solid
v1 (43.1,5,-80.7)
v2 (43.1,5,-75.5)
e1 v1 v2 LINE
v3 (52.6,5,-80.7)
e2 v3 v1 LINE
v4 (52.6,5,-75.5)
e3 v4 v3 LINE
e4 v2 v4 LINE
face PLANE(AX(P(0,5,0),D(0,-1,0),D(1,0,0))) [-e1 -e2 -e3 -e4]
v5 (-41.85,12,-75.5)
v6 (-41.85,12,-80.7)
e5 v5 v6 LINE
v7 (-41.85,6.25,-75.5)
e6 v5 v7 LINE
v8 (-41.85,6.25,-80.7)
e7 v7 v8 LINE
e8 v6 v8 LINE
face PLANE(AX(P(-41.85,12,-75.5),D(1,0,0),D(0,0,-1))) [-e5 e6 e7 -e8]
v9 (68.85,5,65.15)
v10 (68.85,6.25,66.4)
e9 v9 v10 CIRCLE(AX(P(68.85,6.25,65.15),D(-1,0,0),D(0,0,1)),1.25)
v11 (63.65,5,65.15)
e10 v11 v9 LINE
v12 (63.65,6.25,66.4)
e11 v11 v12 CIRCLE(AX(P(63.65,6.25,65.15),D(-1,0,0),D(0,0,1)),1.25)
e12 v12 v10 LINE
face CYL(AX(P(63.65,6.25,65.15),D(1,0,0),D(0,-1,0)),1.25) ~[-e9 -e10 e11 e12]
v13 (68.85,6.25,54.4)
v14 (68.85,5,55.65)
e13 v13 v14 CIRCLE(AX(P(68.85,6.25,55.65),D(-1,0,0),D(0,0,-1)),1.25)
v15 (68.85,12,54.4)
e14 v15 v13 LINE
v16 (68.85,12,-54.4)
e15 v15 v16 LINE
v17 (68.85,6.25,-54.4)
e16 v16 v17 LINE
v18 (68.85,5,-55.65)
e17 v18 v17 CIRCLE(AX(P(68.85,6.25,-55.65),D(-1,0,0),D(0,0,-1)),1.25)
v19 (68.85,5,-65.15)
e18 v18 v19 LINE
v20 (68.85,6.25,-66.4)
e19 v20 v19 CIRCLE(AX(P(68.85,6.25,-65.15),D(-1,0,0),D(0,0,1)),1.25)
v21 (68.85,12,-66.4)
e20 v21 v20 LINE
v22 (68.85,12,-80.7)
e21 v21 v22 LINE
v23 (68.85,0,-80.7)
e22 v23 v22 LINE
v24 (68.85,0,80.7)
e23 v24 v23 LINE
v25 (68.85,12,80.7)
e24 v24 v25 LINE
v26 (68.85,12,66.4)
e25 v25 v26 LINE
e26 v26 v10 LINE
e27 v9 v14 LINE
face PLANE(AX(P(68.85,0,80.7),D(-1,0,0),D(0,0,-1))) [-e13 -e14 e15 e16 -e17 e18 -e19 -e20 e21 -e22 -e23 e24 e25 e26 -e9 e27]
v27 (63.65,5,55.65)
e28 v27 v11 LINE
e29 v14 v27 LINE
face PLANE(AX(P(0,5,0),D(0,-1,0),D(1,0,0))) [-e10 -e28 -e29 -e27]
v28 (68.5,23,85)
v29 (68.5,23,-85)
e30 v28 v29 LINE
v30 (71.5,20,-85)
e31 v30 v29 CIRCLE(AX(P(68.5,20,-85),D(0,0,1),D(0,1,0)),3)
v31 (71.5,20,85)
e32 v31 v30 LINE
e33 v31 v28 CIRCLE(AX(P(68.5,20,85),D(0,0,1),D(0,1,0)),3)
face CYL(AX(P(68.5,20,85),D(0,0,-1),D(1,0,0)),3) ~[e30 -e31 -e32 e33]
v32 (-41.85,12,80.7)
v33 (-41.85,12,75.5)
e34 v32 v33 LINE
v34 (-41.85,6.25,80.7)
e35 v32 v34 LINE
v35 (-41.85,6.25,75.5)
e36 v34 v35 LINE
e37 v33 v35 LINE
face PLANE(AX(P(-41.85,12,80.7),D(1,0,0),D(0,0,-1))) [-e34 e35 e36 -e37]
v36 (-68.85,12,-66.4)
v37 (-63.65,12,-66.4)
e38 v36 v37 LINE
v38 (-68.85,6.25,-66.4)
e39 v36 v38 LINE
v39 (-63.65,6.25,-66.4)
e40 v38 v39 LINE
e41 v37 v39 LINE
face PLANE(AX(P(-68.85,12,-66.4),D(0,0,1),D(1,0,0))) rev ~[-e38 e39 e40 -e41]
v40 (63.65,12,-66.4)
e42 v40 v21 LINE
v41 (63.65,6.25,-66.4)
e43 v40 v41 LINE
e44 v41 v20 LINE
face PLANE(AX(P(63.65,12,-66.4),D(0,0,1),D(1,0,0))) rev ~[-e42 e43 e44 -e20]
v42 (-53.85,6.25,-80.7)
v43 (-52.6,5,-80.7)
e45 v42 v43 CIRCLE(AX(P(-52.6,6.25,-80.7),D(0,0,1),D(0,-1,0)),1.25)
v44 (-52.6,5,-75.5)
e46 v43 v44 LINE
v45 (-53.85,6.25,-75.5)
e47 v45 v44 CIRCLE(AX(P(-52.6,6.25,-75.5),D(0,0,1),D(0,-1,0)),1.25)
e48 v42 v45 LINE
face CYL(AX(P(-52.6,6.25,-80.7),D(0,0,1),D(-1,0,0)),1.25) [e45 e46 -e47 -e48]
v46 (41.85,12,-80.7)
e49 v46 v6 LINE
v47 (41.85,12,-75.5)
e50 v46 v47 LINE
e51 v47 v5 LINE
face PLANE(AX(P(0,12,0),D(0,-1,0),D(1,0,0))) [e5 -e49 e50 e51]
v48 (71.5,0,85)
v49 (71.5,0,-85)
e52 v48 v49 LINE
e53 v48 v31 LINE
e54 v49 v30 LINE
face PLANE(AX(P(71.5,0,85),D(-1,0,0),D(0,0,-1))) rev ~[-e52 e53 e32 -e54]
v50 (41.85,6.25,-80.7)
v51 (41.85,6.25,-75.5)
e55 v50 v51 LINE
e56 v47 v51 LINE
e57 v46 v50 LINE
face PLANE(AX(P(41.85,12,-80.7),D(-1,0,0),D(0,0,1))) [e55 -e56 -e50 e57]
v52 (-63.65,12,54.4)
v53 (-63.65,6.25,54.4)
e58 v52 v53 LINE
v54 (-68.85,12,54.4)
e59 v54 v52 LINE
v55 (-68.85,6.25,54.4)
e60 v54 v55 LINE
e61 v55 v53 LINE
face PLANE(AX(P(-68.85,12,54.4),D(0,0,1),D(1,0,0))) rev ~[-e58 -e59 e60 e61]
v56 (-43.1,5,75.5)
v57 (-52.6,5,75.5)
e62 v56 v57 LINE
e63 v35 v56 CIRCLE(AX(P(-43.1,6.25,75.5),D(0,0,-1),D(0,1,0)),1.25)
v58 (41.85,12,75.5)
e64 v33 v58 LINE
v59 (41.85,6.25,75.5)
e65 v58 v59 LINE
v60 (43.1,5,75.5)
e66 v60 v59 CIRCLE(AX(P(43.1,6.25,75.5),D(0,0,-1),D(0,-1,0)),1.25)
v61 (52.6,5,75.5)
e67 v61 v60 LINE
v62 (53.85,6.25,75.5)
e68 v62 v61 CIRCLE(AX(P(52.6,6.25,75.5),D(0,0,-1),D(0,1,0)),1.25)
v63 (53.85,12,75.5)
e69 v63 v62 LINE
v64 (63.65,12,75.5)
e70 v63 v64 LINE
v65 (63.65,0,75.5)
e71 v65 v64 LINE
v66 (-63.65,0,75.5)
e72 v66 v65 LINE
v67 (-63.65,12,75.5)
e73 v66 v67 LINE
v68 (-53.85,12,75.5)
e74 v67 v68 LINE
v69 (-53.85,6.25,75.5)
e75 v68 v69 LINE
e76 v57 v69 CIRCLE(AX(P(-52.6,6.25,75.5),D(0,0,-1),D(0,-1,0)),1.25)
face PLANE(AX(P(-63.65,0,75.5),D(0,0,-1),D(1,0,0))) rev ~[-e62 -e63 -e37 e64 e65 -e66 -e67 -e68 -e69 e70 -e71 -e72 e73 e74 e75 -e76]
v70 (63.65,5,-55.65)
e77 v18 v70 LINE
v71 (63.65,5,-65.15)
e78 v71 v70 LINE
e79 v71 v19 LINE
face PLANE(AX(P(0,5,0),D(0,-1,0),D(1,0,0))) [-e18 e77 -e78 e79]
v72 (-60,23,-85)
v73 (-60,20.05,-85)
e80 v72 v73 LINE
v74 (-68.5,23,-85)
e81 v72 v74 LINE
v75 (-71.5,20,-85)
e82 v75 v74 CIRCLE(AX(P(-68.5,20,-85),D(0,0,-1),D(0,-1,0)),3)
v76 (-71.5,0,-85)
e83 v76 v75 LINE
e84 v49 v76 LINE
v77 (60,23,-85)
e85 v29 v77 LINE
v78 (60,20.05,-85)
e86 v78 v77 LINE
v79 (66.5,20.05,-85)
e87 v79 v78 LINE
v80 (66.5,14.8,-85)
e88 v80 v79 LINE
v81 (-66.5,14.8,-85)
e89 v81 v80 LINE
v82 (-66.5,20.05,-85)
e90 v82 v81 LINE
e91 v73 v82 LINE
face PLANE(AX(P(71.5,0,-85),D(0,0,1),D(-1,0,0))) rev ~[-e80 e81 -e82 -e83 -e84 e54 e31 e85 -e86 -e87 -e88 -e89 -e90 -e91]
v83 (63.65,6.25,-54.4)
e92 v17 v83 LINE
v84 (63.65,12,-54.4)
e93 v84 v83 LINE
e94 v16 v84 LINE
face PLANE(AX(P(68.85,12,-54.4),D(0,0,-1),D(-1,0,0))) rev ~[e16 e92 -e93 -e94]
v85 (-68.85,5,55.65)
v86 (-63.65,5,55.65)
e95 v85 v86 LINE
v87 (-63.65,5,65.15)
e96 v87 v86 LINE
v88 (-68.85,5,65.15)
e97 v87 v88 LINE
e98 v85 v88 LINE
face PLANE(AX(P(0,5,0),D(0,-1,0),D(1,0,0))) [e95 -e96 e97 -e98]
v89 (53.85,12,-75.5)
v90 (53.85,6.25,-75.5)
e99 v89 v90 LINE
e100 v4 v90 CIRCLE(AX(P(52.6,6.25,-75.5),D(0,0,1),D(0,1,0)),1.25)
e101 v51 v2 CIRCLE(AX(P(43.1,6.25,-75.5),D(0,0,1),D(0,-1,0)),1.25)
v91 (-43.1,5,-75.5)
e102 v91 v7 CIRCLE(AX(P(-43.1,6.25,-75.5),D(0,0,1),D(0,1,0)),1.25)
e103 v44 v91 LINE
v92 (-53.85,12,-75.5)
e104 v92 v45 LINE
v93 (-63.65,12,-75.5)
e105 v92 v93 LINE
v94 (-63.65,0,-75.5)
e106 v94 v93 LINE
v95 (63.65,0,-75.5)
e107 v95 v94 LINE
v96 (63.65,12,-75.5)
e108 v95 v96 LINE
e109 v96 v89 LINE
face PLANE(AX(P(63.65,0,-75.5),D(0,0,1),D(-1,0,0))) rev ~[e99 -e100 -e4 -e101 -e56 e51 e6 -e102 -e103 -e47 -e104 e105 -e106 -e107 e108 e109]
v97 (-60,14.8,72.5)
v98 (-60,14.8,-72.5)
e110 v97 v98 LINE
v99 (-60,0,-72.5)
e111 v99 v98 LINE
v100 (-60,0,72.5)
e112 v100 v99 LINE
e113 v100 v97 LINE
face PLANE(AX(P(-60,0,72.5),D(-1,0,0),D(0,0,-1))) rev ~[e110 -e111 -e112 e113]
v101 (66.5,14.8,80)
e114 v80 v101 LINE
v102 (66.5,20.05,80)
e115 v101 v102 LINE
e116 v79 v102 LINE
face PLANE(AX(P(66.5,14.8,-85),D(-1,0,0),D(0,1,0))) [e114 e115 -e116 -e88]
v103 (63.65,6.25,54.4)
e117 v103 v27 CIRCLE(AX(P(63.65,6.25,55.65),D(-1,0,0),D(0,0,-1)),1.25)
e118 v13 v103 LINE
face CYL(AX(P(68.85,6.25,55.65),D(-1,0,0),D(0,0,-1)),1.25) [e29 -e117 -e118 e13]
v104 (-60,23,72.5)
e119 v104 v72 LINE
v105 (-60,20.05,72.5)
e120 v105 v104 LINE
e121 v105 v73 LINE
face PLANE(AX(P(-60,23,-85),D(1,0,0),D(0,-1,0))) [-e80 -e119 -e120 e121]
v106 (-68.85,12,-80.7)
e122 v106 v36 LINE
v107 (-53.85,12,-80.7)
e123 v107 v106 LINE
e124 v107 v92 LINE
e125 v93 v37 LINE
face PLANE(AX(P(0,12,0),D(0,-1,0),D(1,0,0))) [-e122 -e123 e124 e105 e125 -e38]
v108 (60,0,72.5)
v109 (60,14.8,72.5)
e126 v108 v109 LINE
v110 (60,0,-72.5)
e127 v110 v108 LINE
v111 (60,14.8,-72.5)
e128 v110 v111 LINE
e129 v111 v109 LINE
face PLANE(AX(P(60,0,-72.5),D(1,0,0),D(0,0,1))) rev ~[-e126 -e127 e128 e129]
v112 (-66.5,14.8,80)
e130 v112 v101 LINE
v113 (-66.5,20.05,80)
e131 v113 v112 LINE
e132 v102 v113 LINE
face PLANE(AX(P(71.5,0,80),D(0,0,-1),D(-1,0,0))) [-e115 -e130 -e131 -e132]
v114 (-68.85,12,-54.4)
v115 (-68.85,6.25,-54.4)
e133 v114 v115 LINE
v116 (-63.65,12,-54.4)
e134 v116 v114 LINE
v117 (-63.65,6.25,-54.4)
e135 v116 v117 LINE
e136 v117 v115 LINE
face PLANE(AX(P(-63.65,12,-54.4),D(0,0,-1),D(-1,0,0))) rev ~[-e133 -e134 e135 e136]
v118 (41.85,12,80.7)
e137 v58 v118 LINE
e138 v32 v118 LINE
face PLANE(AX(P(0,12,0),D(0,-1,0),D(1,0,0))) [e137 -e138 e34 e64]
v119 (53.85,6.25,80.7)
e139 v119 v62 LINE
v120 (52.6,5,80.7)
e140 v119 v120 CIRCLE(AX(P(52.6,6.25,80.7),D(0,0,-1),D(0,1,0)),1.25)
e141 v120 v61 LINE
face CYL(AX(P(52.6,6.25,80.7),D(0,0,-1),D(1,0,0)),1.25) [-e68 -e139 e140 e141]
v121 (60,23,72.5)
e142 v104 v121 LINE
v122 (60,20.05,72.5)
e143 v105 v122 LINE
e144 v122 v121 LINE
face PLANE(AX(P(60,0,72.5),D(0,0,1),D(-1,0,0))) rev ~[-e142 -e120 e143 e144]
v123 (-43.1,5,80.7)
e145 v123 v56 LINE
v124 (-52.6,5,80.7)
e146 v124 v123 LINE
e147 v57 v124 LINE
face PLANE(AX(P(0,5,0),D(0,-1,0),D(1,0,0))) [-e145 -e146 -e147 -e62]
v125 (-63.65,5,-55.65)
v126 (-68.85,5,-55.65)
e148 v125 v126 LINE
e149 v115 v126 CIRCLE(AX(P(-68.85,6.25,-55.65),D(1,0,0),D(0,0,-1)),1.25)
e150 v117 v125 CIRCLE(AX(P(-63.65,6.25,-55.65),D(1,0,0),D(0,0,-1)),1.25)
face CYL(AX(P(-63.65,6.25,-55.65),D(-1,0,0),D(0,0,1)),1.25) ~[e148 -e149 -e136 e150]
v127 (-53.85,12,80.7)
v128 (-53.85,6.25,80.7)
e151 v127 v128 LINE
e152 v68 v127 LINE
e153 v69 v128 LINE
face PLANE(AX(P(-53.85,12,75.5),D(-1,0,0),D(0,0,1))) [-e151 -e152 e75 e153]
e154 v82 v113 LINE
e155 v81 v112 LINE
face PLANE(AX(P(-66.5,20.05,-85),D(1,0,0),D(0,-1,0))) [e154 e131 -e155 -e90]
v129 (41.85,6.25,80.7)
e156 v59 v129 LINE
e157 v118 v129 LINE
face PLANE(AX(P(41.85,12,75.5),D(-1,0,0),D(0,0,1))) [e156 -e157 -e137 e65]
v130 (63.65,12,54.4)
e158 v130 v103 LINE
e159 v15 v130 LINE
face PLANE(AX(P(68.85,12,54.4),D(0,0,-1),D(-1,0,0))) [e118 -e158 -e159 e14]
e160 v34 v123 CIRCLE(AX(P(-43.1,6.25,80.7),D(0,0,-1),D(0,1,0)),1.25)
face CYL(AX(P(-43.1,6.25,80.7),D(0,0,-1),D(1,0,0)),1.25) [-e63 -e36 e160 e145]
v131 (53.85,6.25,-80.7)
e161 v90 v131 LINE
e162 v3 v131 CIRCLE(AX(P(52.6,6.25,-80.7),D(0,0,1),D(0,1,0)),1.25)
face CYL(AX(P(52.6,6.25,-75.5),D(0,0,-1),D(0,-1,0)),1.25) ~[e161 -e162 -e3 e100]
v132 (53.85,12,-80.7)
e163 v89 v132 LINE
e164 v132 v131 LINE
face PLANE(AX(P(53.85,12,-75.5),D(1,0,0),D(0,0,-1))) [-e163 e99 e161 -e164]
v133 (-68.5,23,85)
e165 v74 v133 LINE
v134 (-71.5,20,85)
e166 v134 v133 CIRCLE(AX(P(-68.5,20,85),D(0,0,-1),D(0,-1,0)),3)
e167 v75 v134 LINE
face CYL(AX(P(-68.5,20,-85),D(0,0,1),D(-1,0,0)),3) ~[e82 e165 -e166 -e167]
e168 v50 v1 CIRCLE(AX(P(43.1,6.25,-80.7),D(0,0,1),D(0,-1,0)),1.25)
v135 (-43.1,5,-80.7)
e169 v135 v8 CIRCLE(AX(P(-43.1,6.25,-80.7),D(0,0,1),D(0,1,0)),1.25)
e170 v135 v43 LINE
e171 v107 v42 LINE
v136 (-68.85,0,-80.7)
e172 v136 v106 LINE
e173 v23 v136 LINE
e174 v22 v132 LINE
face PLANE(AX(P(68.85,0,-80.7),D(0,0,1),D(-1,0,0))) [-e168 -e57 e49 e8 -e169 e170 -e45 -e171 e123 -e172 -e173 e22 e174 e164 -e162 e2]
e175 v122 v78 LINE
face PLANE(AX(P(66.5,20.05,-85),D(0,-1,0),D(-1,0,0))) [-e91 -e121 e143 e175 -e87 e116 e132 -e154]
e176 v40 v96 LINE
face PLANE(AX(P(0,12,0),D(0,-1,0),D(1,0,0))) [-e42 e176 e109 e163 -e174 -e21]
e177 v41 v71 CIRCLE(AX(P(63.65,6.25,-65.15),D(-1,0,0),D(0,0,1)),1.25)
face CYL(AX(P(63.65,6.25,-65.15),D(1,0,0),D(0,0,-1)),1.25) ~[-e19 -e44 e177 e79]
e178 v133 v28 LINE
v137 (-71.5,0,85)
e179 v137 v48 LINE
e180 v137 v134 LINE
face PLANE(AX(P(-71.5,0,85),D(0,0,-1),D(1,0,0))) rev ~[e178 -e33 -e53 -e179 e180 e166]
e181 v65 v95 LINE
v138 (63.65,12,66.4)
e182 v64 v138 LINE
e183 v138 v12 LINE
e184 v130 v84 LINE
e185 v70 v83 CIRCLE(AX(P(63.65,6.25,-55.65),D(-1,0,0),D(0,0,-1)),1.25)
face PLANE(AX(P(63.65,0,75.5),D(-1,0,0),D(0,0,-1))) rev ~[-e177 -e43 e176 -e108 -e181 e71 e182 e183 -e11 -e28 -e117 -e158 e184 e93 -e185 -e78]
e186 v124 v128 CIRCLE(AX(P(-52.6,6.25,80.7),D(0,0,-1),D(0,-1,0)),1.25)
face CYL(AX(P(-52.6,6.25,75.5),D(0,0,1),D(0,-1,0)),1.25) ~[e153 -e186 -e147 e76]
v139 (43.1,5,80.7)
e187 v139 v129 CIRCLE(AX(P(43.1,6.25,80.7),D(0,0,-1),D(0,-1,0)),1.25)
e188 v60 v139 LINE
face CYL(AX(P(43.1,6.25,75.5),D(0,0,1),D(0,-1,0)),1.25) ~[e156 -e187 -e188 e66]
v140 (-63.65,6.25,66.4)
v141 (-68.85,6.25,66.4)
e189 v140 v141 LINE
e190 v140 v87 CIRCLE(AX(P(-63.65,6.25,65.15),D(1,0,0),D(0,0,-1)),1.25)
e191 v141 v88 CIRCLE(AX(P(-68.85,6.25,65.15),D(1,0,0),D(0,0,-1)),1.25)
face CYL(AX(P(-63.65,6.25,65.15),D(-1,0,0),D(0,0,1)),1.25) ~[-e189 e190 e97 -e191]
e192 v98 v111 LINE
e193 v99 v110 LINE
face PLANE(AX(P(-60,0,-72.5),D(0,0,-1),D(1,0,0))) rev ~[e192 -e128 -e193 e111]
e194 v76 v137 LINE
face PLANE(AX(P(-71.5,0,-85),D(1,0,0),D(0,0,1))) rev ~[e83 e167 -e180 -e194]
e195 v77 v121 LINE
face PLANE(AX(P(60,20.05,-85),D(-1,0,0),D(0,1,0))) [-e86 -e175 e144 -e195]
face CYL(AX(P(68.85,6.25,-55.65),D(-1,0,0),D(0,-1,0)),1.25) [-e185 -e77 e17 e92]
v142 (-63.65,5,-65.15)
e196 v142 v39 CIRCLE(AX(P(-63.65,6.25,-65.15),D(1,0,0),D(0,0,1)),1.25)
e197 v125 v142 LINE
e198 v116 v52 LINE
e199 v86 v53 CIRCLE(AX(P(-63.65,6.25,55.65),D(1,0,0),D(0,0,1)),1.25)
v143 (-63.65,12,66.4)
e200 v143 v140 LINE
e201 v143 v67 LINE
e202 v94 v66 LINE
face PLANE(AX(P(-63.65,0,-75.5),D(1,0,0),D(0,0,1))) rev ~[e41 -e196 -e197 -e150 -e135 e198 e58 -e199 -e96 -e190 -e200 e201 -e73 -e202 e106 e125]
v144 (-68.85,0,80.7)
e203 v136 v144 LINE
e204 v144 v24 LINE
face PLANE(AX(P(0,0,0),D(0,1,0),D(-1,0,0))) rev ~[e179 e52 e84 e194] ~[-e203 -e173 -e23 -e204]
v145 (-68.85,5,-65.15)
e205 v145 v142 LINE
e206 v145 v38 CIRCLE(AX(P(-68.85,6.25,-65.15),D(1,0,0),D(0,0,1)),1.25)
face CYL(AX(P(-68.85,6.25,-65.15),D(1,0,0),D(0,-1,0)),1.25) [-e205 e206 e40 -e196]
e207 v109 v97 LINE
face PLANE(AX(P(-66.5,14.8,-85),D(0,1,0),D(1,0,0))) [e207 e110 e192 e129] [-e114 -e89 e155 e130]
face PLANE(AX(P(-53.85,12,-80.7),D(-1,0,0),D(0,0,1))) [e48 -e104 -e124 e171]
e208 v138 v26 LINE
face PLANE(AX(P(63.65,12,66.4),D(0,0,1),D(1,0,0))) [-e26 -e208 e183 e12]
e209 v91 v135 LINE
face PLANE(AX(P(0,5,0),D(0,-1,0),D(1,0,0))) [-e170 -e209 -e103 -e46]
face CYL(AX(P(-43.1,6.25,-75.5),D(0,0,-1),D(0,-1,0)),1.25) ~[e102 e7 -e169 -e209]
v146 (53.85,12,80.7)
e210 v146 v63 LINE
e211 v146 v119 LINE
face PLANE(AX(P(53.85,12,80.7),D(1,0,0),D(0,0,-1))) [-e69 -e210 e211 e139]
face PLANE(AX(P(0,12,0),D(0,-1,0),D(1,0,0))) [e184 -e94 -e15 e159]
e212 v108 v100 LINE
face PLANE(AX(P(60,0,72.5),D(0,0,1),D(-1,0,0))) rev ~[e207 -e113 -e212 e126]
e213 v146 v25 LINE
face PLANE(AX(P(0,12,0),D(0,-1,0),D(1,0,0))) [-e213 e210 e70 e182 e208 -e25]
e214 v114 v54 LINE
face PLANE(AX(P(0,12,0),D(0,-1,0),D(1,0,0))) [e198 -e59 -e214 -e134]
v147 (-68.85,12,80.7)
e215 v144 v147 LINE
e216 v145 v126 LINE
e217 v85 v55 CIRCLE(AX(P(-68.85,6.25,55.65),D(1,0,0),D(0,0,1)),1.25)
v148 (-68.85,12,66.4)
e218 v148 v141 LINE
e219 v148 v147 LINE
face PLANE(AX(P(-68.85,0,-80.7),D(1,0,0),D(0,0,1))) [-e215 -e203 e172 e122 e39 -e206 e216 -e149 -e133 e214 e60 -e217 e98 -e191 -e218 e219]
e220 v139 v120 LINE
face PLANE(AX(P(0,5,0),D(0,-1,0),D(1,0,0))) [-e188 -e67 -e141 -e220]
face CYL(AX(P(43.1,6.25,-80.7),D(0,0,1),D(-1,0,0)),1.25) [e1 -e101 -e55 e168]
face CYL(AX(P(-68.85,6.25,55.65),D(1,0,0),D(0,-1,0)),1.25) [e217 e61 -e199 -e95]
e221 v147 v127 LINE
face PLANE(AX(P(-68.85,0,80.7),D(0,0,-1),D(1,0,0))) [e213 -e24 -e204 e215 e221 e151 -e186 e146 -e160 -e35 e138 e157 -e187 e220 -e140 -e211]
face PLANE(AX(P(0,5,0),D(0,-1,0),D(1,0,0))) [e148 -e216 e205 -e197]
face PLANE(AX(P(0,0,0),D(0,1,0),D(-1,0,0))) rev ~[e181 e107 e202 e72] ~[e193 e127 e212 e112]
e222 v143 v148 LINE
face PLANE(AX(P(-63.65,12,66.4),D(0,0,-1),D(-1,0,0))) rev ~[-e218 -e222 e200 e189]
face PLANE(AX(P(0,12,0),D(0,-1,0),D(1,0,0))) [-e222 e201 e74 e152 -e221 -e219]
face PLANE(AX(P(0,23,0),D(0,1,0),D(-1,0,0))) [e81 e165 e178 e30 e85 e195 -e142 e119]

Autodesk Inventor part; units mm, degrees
ref_plane "YZ Plane" through (0, 0, 0) normal (1, 0, 0) x (0, 1, 0)
ref_plane "XZ Plane" through (0, 0, 0) normal (0, 1, 0) x (-1, 0, 0)
ref_plane "XY Plane" through (0, 0, 0) normal (0, 0, 1) x (1, 0, 0)
sketch "Sketch1" plane through (0, 0, 0) normal (0, 1, 0) x (-1, 0, 0)
  line L0 (-71.5, -85) -> (71.5, -85)
  line L1 (71.5, -85) -> (71.5, 85)
  line L2 (71.5, 85) -> (-71.5, 85)
  line L3 (-71.5, 85) -> (-71.5, -85)
  line L4 (-71.5, -85) -> (71.5, 85) construction
  line L5 (71.5, -85) -> (-71.5, 85) construction
  point P0 (0, 0)
  dimension "d0" = 143
  dimension "d1" = 170
extrude "Base" add sketch "Sketch1" along normal blind 23
sketch "Sketch2" plane through (0, 0, 0) normal (0, -1, 0) x (1, 0, 0)
  line L0 (-60, -72.5) -> (60, -72.5)
  line L1 (60, -72.5) -> (60, 72.5)
  line L2 (60, 72.5) -> (-60, 72.5)
  line L3 (-60, 72.5) -> (-60, -72.5)
  line L4 (-60, -72.5) -> (60, 72.5) construction
  line L5 (60, -72.5) -> (-60, 72.5) construction
  point P0 (0, 0)
  dimension "d4" = 120
  dimension "d5" = 145
extrude "Extrusion2" cut sketch "Sketch2" against normal through all
sketch "Sketch3" plane through (0, 0, 0) normal (0, -1, 0) x (1, 0, 0)
  line L0 (63.65, -75.5) -> (-63.65, -75.5)
  line L1 (-63.65, -75.5) -> (-63.65, 75.5)
  line L2 (-63.65, 75.5) -> (63.65, 75.5)
  line L3 (63.65, 75.5) -> (63.65, -75.5)
  line L4 (-60, 72.5) -> (60, 72.5) projected
  line L5 (-60, -72.5) -> (-60, 72.5) projected
  line L6 (68.85, -80.7) -> (-68.85, -80.7)
  line L7 (-68.85, -80.7) -> (-68.85, 80.7)
  line L8 (-68.85, 80.7) -> (68.85, 80.7)
  line L9 (68.85, 80.7) -> (68.85, -80.7)
  line L10 (-71.5, 85) -> (71.5, 85) projected
  point P0 (0, 0)
  point P1 (63.65, 0)
  point P2 (68.85, 0)
  dimension "d9" = 3.65
  dimension "d10" = 5.2
  dimension "d11" = 12.5
  dimension "d38" = 5.2
  dimension "d39" = 151
extrude "Extrusion3" cut sketch "Sketch3" against normal blind 12
sketch "Sketch4" plane through (0, 12, 0) normal (0, -1, 0) x (1, 0, 0)
  line L0 (-68.85, 80.7) -> (68.85, 80.7) projected
  line L1 (63.65, 75.5) -> (-63.65, 75.5) projected
  line L2 (-53.85, 80.7) -> (-41.85, 80.7)
  line L3 (-41.85, 80.7) -> (-41.85, 75.5)
  line L4 (-41.85, 75.5) -> (-53.85, 75.5)
  line L5 (-53.85, 75.5) -> (-53.85, 80.7)
  line L6 (-68.85, -80.7) -> (-68.85, 80.7) projected
  line L7 (-63.65, 75.5) -> (-63.65, -75.5) projected
  line L8 (-63.65, 66.4) -> (-68.85, 66.4)
  line L9 (-68.85, 66.4) -> (-68.85, 54.4)
  line L10 (-68.85, 54.4) -> (-63.65, 54.4)
  line L11 (-63.65, 54.4) -> (-63.65, 66.4)
  line L12 (63.65, -75.5) -> (63.65, 75.5) projected
  line L13 (68.85, 80.7) -> (68.85, -80.7) projected
  line L14 (63.65, 66.4) -> (68.85, 66.4)
  line L15 (68.85, 66.4) -> (68.85, 54.4)
  line L16 (68.85, 54.4) -> (63.65, 54.4)
  line L17 (63.65, 54.4) -> (63.65, 66.4)
  line L18 (-63.65, -75.5) -> (63.65, -75.5) projected
  line L19 (68.85, -80.7) -> (-68.85, -80.7) projected
  line L20 (-53.85, -75.5) -> (-41.85, -75.5)
  line L21 (-41.85, -75.5) -> (-41.85, -80.7)
  line L22 (-41.85, -80.7) -> (-53.85, -80.7)
  line L23 (-53.85, -80.7) -> (-53.85, -75.5)
  line L24 (-68.85, -66.4) -> (-63.65, -66.4)
  line L25 (-63.65, -66.4) -> (-63.65, -54.4)
  line L26 (-63.65, -54.4) -> (-68.85, -54.4)
  line L27 (-68.85, -54.4) -> (-68.85, -66.4)
  line L28 (53.85, -80.7) -> (41.85, -80.7)
  line L29 (41.85, -80.7) -> (41.85, -75.5)
  line L30 (41.85, -75.5) -> (53.85, -75.5)
  line L31 (53.85, -75.5) -> (53.85, -80.7)
  line L32 (68.85, -54.4) -> (63.65, -54.4)
  line L33 (63.65, -54.4) -> (63.65, -66.4)
  line L34 (63.65, -66.4) -> (68.85, -66.4)
  line L35 (68.85, -66.4) -> (68.85, -54.4)
  line L36 (53.85, 75.5) -> (41.85, 75.5)
  line L37 (41.85, 75.5) -> (41.85, 80.7)
  line L38 (41.85, 80.7) -> (53.85, 80.7)
  line L39 (53.85, 80.7) -> (53.85, 75.5)
  point P0 (0, 0)
  point P1 (66.25, 66.4)
  point P2 (-66.25, 66.4)
  point P3 (-53.85, -78.1)
  point P4 (-53.85, 78.1)
  point P5 (66.25, -54.4)
  point P6 (-66.25, -54.4)
  point P7 (41.85, 78.1)
  point P8 (41.85, -78.1)
  dimension "d14" = 12
  dimension "d15" = 15
  dimension "d16" = 12
  dimension "d17" = 14.3
  dimension "d18" = 12
  dimension "d19" = 12
  dimension "d20" = 14.3
  dimension "d21" = 12
  dimension "d22" = 12
  dimension "d23" = 15
  dimension "d24" = 12
  dimension "d25" = 12
extrude "Extrusion4" add sketch "Sketch4" along normal blind 7 contours L0 L3 L1 L5 | L8 L7 L10 L6 | L0 L39 L1 L37 | L26 L7 L24 L6 | L13 L16 L12 L14 | L23 L18 L21 L19 | L13 L34 L12 L32 | L29 L18 L31 L19
fillet "Fillet1" radius 1.25 16 edges at (-66.25, 5, 54.4) (-66.25, 5, 66.4) (-66.25, 5, -66.4) (-66.25, 5, -54.4) (66.25, 5, -66.4) (66.25, 5, -54.4) (66.25, 5, 54.4) (66.25, 5, 66.4) (53.85, 5, -78.1) (41.85, 5, -78.1) (-53.85, 5, -78.1) (-41.85, 5, -78.1) (-53.85, 5, 78.1) (-41.85, 5, 78.1) (41.85, 5, 78.1) (53.85, 5, 78.1)
sketch "Sketch5" plane through (71.5, 0, -85) normal (0, 0, -1) x (-1, 0, 0)
  line L0 (71.5, 0) -> (71.5, 23) construction
  line L1 (131.5, 23) -> (11.5, 23) construction
  line L2 (5, 20.05) -> (138, 20.05)
  line L3 (138, 20.05) -> (138, 14.8)
  line L4 (138, 14.8) -> (5, 14.8)
  line L5 (5, 14.8) -> (5, 20.05)
  line L6 (0, 0) -> (143, 0) projected
  point P0 (71.5, 20.05)
  dimension "d29" = 133
  dimension "d30" = 5.25
  dimension "d31" = 14.8
extrude "Extrusion5" cut sketch "Sketch5" against normal blind 165
fillet "Fillet2" radius 3 2 edges at (71.5, 23, 0) (-71.5, 23, 0)
sketch "Sketch6" plane through (71.5, 0, -85) normal (0, 0, -1) x (-1, 0, 0)
  line L0 (3, 23) -> (140, 23) projected
  line L1 (5, 20.05) -> (138, 20.05) projected
  line L2 (11.5, 23) -> (131.5, 23)
  line L3 (131.5, 23) -> (131.5, 20.05)
  line L4 (131.5, 20.05) -> (11.5, 20.05)
  line L5 (11.5, 20.05) -> (11.5, 23)
  line L6 (0, 0) -> (143, 0) construction
  point P0 (71.5, 0)
  point P1 (71.5, 23)
  point P2 (71.5, 0)
  dimension "d35" = 120
extrude "Extrusion6" cut sketch "Sketch6" against normal blind 12.5
equation "\"d9\" = d8"
equation "\"d16\" = d14"
equation "\"d18\" = d14"
equation "\"d19\" = d14"
equation "\"d20\" = d17"
equation "\"d21\" = d19"
equation "\"d22\" = d14"
equation "\"d23\" = d15"
equation "\"d24\" = d14"
equation "\"d8\" = -0.5 * d10 + 0.5 * d11"
properties part number "top_bracket_for_5mm"
